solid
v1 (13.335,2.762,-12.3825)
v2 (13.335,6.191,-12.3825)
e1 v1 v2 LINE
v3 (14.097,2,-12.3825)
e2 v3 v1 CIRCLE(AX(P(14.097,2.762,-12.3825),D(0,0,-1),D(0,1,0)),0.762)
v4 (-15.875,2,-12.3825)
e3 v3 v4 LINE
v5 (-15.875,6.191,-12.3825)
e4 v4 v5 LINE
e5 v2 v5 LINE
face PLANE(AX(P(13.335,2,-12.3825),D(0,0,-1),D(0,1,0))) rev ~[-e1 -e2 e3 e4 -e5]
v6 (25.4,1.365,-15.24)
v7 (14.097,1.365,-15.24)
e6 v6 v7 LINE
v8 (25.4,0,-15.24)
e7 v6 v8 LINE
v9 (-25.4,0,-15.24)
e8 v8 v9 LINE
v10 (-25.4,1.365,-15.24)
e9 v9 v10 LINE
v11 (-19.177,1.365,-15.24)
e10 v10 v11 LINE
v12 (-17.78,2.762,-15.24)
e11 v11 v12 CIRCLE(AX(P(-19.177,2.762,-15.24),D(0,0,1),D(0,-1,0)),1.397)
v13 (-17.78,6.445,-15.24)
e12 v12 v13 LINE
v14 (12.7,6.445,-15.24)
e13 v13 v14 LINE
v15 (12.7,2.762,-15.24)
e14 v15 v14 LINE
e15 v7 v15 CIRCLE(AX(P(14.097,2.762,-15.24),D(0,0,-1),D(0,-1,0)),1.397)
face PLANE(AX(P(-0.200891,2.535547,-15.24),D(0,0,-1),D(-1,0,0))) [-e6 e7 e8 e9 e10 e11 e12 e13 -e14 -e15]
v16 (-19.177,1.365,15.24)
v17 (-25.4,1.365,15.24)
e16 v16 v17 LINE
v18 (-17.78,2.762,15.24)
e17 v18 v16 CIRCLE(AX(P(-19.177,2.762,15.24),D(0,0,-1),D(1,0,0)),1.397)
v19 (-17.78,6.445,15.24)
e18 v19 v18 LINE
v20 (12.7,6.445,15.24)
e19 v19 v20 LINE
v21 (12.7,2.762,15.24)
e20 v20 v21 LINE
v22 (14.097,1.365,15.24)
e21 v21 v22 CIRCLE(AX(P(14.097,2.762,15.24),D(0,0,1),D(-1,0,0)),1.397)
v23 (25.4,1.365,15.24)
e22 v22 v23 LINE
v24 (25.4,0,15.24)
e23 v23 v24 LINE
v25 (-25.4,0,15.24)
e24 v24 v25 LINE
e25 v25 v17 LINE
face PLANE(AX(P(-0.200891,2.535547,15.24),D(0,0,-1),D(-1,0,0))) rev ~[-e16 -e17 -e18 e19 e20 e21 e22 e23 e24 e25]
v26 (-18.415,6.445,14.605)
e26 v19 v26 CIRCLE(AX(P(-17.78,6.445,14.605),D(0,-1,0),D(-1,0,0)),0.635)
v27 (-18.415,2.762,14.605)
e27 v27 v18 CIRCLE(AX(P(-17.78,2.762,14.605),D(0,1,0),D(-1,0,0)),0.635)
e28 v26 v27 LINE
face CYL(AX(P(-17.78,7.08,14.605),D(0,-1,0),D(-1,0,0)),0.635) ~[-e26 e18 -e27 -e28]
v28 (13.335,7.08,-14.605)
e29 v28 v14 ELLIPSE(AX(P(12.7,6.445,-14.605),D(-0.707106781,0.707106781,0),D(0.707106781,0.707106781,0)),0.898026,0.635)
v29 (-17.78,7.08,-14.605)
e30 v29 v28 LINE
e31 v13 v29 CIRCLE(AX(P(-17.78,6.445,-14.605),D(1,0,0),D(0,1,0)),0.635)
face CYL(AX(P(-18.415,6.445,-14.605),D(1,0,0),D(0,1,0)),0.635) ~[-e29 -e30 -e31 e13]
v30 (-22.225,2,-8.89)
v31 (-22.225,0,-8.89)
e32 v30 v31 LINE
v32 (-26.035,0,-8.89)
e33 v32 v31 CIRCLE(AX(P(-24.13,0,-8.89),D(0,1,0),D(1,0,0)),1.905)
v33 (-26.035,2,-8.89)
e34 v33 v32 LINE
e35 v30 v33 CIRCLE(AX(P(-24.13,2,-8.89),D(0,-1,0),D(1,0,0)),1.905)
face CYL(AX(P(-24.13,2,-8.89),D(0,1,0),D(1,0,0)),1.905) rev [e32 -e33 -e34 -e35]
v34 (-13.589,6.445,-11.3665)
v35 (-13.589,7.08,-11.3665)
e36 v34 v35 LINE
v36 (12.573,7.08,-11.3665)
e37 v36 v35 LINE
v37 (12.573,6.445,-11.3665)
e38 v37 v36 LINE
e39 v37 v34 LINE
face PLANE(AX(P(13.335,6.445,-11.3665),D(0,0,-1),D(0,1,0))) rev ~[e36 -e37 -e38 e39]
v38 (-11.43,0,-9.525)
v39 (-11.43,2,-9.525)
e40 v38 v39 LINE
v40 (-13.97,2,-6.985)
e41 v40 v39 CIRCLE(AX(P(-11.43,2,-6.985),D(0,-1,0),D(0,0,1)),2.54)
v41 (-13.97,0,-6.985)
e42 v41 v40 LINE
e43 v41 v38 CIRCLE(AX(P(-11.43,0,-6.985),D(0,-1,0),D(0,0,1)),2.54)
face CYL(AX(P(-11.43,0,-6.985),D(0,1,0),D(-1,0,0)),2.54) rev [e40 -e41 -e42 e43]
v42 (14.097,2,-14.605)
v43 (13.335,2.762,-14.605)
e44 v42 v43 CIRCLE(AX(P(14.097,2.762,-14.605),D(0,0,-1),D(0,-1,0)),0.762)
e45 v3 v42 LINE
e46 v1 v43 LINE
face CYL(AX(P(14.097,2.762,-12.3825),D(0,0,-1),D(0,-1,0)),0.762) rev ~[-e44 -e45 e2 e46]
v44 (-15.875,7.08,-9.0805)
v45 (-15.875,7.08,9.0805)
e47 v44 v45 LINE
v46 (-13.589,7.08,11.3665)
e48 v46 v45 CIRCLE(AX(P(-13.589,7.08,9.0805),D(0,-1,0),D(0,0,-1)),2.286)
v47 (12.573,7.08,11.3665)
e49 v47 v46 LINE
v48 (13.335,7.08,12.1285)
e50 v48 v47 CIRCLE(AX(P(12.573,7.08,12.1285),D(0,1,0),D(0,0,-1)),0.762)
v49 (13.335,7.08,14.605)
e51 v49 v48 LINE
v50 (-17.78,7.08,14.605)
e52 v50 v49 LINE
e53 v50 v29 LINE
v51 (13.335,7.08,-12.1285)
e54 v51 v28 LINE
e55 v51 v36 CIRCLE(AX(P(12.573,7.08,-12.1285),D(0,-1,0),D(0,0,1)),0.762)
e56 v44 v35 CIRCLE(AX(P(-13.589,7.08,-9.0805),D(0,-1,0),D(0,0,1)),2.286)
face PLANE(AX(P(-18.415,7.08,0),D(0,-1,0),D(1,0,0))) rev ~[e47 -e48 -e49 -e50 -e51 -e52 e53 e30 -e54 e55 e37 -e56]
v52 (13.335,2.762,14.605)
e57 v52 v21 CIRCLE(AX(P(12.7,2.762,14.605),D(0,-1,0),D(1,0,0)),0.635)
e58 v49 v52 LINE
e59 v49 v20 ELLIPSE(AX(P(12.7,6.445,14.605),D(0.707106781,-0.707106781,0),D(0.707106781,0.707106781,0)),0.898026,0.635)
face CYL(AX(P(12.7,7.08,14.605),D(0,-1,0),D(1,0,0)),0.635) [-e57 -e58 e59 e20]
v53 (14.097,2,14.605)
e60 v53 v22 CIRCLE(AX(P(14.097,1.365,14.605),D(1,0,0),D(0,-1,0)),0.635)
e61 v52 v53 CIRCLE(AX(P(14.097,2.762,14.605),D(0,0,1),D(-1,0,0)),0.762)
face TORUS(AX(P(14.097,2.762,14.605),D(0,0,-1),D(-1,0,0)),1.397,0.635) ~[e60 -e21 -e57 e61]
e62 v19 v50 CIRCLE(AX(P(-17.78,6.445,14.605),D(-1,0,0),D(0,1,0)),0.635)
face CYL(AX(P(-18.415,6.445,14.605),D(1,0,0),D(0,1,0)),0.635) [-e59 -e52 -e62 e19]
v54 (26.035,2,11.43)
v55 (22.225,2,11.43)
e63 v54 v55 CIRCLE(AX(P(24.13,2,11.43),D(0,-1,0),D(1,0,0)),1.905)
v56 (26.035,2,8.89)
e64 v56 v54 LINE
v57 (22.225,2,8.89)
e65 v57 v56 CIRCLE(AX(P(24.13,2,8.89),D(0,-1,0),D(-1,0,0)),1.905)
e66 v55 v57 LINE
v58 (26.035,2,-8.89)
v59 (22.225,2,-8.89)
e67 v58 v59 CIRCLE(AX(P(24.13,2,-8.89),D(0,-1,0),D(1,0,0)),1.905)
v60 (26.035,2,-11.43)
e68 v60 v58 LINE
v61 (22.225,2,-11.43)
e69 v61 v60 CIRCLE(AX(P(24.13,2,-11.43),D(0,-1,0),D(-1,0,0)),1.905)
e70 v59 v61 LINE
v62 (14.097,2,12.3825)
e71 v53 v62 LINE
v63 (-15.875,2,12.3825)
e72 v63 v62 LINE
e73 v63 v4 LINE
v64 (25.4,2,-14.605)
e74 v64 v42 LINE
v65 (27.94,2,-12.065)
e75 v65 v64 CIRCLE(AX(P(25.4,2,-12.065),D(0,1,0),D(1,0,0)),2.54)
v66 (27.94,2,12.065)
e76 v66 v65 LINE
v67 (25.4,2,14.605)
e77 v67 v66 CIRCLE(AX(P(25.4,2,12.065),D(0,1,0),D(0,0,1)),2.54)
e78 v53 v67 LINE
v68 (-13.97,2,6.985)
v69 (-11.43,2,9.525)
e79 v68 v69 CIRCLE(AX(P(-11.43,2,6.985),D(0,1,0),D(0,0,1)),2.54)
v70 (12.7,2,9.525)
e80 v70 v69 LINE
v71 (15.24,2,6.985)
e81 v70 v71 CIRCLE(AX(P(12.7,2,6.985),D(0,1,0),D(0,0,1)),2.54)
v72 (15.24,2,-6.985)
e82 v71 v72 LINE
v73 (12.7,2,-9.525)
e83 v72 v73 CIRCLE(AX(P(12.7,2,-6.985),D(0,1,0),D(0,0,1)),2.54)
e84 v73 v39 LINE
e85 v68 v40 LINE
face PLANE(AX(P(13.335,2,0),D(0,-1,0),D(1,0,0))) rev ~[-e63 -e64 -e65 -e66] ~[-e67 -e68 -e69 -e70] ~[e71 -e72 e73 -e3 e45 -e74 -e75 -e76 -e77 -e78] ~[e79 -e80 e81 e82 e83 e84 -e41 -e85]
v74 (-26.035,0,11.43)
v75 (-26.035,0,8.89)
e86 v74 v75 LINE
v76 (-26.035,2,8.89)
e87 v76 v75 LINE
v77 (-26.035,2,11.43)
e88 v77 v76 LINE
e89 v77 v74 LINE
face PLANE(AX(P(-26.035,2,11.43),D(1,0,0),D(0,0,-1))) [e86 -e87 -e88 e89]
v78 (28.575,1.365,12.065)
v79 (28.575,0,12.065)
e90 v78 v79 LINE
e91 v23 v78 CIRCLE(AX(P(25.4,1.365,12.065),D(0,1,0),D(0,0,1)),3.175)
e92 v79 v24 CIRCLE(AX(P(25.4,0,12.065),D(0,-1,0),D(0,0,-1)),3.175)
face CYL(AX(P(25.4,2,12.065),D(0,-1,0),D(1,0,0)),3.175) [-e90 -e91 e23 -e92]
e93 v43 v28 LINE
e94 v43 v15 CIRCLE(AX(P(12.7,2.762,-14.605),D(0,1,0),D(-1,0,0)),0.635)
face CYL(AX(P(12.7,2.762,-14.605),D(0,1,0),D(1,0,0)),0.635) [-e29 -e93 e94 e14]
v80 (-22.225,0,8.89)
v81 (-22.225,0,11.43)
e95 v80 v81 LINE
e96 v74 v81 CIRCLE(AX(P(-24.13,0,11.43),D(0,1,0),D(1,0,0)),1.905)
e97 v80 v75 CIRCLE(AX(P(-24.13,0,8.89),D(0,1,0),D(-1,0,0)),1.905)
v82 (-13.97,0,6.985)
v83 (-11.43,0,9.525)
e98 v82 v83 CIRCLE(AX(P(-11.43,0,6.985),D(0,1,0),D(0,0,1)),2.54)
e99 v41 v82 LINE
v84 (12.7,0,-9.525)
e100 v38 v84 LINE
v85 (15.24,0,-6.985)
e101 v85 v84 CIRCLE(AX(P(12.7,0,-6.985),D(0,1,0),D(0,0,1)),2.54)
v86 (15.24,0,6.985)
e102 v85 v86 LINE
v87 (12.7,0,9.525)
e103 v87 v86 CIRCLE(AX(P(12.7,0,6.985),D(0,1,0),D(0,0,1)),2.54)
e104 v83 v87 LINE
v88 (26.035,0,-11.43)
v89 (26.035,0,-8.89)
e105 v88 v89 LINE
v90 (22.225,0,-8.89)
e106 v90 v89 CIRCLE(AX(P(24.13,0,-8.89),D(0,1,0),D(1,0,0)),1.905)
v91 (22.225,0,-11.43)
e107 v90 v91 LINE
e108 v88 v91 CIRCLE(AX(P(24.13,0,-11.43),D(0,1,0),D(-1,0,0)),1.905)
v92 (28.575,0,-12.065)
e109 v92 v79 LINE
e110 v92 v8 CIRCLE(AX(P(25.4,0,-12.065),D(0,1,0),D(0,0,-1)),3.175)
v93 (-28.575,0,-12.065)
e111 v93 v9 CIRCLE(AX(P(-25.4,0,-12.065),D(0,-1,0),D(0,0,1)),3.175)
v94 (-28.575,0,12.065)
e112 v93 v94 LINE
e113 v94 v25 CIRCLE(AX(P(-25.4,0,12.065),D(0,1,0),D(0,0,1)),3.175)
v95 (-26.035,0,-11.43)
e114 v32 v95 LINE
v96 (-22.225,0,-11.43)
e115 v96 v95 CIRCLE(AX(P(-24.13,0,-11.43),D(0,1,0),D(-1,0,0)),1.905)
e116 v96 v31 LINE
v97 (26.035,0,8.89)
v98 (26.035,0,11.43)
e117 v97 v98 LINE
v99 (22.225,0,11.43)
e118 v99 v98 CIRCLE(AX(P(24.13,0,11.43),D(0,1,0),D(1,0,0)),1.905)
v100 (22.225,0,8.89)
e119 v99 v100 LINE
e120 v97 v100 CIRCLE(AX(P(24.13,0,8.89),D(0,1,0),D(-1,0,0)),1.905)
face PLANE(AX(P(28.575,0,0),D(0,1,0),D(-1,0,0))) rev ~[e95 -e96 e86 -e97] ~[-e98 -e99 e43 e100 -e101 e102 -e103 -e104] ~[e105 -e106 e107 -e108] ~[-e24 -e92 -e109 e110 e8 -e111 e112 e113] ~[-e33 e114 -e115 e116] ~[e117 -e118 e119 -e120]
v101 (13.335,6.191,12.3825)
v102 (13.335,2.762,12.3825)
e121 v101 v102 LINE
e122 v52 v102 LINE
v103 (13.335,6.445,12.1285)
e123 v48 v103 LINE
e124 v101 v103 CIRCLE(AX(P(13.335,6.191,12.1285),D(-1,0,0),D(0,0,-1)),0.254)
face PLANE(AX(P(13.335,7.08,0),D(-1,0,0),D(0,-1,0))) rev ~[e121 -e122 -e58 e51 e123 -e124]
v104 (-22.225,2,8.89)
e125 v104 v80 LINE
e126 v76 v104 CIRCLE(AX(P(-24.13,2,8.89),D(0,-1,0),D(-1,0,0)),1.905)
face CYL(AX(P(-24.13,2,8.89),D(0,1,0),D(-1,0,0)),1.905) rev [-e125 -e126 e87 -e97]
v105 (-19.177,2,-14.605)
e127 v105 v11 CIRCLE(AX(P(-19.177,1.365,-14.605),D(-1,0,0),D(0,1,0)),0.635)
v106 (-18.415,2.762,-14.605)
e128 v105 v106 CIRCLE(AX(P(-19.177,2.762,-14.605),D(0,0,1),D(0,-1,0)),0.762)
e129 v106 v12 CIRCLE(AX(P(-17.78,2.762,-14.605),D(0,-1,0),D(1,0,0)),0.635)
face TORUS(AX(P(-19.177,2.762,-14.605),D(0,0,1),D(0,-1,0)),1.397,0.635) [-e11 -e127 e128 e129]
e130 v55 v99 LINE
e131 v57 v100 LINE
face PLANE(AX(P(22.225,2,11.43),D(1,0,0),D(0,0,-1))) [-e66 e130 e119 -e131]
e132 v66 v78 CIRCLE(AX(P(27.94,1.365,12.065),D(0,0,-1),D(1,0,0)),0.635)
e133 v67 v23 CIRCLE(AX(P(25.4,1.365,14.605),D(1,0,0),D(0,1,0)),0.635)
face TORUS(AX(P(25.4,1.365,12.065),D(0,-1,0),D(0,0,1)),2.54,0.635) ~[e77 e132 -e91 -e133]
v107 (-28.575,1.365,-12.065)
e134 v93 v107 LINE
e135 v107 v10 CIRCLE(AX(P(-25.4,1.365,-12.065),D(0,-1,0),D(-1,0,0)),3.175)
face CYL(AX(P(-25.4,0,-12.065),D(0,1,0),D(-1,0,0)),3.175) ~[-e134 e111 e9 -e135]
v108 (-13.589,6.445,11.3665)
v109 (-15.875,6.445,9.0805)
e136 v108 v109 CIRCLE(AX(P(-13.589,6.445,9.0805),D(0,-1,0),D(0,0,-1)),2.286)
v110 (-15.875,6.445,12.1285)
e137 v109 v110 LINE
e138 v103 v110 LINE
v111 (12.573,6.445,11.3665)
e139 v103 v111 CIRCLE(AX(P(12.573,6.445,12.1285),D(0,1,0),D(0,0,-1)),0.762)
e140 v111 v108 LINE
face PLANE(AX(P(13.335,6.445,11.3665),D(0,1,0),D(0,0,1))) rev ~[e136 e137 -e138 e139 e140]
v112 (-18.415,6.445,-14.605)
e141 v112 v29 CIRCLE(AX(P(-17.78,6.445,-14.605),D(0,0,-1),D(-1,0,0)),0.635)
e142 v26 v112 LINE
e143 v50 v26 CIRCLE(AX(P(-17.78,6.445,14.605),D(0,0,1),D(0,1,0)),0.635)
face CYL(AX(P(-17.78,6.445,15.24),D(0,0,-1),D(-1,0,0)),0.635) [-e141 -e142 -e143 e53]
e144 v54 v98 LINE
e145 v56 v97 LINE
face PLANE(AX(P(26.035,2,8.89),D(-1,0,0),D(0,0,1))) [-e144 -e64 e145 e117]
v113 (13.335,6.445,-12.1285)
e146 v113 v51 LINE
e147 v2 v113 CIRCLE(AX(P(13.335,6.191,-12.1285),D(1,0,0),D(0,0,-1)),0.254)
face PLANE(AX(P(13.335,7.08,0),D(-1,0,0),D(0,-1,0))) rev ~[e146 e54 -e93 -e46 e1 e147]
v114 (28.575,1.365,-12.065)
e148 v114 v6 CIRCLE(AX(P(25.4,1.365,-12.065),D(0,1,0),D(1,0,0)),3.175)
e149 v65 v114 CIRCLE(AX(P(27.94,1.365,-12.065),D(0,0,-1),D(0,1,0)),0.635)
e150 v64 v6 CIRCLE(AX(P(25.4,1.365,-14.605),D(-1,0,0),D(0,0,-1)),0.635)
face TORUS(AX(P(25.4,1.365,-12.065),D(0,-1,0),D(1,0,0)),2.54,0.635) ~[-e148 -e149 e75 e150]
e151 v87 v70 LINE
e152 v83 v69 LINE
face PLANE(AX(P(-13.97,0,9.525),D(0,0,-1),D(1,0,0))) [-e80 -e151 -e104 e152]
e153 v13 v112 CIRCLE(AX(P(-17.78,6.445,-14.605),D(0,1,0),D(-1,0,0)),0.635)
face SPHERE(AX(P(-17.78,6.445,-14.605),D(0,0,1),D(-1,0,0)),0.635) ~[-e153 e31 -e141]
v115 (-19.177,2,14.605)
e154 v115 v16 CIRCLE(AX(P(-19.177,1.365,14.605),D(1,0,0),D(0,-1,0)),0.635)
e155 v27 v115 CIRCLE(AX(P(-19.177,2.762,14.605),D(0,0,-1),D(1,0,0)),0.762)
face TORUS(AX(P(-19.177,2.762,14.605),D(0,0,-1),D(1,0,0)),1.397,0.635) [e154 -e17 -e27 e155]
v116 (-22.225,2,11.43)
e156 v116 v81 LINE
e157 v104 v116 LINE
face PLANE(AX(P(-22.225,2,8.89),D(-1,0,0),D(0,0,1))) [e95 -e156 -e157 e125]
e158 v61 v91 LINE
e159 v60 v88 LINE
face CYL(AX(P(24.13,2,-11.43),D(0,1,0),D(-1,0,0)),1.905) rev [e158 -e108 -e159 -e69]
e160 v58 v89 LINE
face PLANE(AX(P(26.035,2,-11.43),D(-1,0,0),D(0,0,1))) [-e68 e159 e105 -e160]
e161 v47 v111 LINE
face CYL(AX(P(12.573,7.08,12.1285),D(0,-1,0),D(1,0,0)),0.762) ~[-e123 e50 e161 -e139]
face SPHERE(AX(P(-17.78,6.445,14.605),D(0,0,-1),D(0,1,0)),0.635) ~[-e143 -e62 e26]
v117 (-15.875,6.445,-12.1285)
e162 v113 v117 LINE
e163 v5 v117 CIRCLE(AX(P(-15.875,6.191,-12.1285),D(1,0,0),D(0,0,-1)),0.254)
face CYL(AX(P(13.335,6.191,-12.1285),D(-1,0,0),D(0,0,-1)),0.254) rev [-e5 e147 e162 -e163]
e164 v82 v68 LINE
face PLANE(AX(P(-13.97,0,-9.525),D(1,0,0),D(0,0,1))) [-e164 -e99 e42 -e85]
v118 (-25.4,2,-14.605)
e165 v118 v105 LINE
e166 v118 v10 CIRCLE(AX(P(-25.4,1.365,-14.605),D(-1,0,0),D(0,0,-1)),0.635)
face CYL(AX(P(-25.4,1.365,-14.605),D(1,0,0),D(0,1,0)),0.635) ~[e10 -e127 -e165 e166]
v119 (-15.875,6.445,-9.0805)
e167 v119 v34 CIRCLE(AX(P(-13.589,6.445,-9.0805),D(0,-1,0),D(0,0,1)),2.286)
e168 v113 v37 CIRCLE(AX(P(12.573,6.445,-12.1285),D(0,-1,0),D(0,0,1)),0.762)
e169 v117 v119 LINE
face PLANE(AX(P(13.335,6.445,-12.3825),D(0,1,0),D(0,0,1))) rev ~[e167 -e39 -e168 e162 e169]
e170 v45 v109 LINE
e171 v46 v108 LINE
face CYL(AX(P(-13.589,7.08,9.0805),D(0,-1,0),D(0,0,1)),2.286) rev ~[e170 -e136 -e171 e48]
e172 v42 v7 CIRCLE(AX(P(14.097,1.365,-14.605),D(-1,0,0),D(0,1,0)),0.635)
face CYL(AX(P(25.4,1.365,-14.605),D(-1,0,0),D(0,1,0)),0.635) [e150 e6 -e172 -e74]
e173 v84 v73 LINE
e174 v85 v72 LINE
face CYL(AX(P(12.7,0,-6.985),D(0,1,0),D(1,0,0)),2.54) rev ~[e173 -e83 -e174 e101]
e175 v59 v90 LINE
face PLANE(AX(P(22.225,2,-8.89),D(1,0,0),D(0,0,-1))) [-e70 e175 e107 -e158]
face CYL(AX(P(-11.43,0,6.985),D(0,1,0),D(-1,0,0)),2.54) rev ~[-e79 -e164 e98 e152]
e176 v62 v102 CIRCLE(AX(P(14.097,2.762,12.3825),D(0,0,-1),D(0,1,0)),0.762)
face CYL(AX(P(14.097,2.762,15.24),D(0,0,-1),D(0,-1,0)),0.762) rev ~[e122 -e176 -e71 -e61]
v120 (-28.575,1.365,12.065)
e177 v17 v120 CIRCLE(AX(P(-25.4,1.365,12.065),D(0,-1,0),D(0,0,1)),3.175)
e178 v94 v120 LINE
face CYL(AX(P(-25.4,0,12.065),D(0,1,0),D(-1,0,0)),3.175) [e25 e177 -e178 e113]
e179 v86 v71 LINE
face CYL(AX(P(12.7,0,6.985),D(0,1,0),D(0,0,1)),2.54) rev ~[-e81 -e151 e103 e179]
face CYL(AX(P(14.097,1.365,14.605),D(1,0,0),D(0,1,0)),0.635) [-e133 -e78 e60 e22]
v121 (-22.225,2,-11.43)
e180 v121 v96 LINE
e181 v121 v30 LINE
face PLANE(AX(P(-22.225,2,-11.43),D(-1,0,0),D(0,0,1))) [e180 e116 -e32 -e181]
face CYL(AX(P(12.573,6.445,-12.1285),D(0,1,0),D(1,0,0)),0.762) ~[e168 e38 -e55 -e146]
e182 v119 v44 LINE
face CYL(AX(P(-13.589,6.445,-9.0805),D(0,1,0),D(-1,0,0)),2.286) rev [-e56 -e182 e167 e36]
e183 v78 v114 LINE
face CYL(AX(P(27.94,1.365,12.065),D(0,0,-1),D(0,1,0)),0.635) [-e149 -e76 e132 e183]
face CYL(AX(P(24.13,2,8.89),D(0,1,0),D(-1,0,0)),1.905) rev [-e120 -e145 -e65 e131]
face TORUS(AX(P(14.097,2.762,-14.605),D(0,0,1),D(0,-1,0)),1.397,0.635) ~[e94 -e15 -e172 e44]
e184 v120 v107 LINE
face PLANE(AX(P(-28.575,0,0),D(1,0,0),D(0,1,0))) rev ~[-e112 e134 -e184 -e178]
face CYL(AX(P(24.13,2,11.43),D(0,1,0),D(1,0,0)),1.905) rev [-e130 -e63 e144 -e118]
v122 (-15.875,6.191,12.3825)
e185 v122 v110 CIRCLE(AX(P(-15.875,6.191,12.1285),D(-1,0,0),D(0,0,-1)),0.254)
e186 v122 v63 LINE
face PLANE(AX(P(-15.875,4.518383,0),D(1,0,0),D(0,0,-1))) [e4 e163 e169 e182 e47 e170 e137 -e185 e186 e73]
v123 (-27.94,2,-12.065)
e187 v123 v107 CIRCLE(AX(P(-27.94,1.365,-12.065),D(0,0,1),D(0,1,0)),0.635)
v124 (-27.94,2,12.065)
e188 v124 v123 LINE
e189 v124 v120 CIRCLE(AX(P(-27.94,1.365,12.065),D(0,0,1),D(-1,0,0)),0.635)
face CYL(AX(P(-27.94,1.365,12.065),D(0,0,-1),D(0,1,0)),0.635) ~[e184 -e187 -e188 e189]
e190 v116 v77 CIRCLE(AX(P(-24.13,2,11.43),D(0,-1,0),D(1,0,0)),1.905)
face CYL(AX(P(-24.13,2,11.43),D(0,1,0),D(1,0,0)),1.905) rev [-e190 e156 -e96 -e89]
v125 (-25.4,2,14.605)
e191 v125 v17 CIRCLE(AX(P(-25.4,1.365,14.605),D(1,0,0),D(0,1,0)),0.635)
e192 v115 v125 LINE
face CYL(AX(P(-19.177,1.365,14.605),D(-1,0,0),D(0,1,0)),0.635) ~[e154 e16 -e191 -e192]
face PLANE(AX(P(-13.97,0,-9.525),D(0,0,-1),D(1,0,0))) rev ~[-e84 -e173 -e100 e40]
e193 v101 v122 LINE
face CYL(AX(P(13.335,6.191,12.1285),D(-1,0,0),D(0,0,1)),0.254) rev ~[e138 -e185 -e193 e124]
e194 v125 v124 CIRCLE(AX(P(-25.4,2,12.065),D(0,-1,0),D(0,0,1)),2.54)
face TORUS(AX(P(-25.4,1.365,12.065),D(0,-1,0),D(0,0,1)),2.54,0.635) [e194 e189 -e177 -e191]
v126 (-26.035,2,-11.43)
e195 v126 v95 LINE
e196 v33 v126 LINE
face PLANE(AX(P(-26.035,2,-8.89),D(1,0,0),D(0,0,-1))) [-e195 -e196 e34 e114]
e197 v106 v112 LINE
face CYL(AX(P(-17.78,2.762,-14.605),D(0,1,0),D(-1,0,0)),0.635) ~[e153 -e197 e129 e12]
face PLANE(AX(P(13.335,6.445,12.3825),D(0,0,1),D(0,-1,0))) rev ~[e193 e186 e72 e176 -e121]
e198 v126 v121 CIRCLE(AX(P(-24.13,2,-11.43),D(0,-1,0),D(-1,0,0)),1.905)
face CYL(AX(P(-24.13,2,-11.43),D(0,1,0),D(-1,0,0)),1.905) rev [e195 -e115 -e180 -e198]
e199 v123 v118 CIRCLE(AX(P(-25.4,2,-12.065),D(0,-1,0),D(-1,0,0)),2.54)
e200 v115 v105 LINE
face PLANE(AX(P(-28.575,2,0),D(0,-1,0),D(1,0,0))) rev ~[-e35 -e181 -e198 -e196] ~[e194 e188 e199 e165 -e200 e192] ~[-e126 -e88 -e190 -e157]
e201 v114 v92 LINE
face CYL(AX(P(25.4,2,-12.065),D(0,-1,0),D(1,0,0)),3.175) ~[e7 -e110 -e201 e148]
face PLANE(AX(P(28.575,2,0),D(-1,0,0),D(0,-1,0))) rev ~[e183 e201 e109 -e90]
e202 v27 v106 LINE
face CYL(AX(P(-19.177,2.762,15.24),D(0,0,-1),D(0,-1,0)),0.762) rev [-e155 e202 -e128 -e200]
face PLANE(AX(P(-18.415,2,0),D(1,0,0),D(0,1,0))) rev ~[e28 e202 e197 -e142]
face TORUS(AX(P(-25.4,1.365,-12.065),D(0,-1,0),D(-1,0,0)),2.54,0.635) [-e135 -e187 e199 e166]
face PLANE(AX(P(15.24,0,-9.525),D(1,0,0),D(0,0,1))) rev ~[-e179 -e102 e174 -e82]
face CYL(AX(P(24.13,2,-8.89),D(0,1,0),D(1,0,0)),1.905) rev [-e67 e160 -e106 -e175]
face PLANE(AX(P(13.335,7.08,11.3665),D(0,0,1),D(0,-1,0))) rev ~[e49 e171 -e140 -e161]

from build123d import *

# Parameters (mm, degrees)
BOSS_EXTRUDE1_DEPTH = 15.24
CUT_EXTRUDE1_DEPTH  = 19.05
CUT_EXTRUDE2_DEPTH  = 29.21
CUT_EXTRUDE4_REACH  = 35.15
SKETCH7_W           = 29.21
SKETCH7_H           = 19.05
FILLET3_R           = 2.54
FILLET6_R           = 0.762
FILLET7_R           = 2.286
FILLET9_R           = 3.175
FILLET10_R          = 0.762
FILLET11_R          = 0.635
FILLET12_R          = 0.254


with BuildPart() as part:
    # Sketch1 → Boss-Extrude1 (new, symmetric)
    with BuildSketch(Plane.XY):
        Polygon((-28.575, 0), (-28.575, 2), (-18.415, 2), (-18.415, 7.08), (13.335, 7.08), (13.335, 2), (28.575, 2), (28.575, 0), align=None)
    extrude(amount=BOSS_EXTRUDE1_DEPTH, both=True)

    # Sketch4 → Cut-Extrude1 (cut)
    with BuildSketch(Plane(origin=(0, 2, 0), x_dir=(1, 0, 0), z_dir=(0, 1, 0))):
        with BuildLine():
            Line((26.035, 11.43), (26.035, 8.89))
            ThreePointArc((26.035, 8.89), (24.13, 6.985), (22.225, 8.89))
            Line((22.225, 8.89), (22.225, 11.43))
            ThreePointArc((22.225, 11.43), (24.13, 13.335), (26.035, 11.43))
        make_face()
        with BuildLine():
            Line((26.035, -8.89), (26.035, -11.43))
            ThreePointArc((26.035, -11.43), (24.13, -13.335), (22.225, -11.43))
            Line((22.225, -11.43), (22.225, -8.89))
            ThreePointArc((22.225, -8.89), (24.13, -6.985), (26.035, -8.89))
        make_face()
        with BuildLine():
            Line((-22.225, 11.43), (-22.225, 8.89))
            ThreePointArc((-22.225, 8.89), (-24.13, 6.985), (-26.035, 8.89))
            Line((-26.035, 8.89), (-26.035, 11.43))
            ThreePointArc((-26.035, 11.43), (-24.13, 13.335), (-22.225, 11.43))
        make_face()
        with BuildLine():
            Line((-22.225, -8.89), (-22.225, -11.43))
            ThreePointArc((-22.225, -11.43), (-24.13, -13.335), (-26.035, -11.43))
            Line((-26.035, -11.43), (-26.035, -8.89))
            ThreePointArc((-26.035, -8.89), (-24.13, -6.985), (-22.225, -8.89))
        make_face()
    extrude(amount=-CUT_EXTRUDE1_DEPTH, mode=Mode.SUBTRACT)

    # Sketch5 → Cut-Extrude2 (cut)
    with BuildSketch(Plane(origin=(13.335, 0, 0), x_dir=(0, 0, -1), z_dir=(1, 0, 0))):
        Polygon((-12.3825, 2), (12.3825, 2), (12.3825, 6.445), (11.3665, 6.445), (11.3665, 7.08), (-11.3665, 7.08), (-11.3665, 6.445), (-12.3825, 6.445), align=None)
    extrude(amount=-CUT_EXTRUDE2_DEPTH, mode=Mode.SUBTRACT)

    # Sketch7 → Cut-Extrude4 (cut, up to next)
    with BuildSketch(Plane.XZ, mode=Mode.PRIVATE) as cut_extrude4_sk1:
        with Locations((0.635, 0)):
            Rectangle(SKETCH7_W, SKETCH7_H)
    cut_extrude4_tool1 = extrude(cut_extrude4_sk1.sketch, amount=-CUT_EXTRUDE4_REACH, mode=Mode.PRIVATE) & part.part
    add(cut_extrude4_tool1.solids().sort_by_distance((0.635, 0, 0))[0], mode=Mode.SUBTRACT)

    # Fillet3
    fillet3_edges = [part.edges().sort_by_distance(p)[0] for p in [
        (15.24, 1, 9.525),
        (15.24, 1, -9.525),
        (-13.97, 1, -9.525),
        (-13.97, 1, 9.525),
    ]]
    fillet(fillet3_edges, radius=FILLET3_R)

    # Fillet6
    fillet6_edges = [part.edges().sort_by_distance(p)[0] for p in [
        (13.335, 6.7625, -11.3665),
        (13.335, 6.7625, 11.3665),
    ]]
    fillet(fillet6_edges, radius=FILLET6_R)

    # Fillet7
    fillet7_edges = [part.edges().sort_by_distance(p)[0] for p in [
        (-15.875, 6.7625, 11.3665),
        (-15.875, 6.7625, -11.3665),
    ]]
    fillet(fillet7_edges, radius=FILLET7_R)

    # Fillet9
    fillet9_edges = [part.edges().sort_by_distance(p)[0] for p in [
        (28.575, 1, -15.24),
        (-28.575, 1, 15.24),
        (-28.575, 1, -15.24),
        (28.575, 1, 15.24),
    ]]
    fillet(fillet9_edges, radius=FILLET9_R)

    # Fillet10
    fillet10_edges = [part.edges().sort_by_distance(p)[0] for p in [
        (13.335, 2, -13.81125),
        (-18.415, 2, 0),
        (13.335, 2, 13.81125),
    ]]
    fillet(fillet10_edges, radius=FILLET10_R)

    # Fillet11
    fillet11_edges = [part.edges().sort_by_distance(p)[0] for p in [
        (-18.415, 7.08, 0),
        (-2.54, 7.08, 15.24),
        (19.7485, 2, 15.24),
        (-28.575, 2, 0),
        (-27.64506403, 2, -14.31006403),
        (-27.64506403, 2, 14.31006403),
        (19.7485, 2, -15.24),
        (28.575, 2, 0),
        (27.64506403, 2, -14.31006403),
        (27.64506403, 2, 14.31006403),
        (13.335, 4.921, 15.24),
        (13.335, 4.921, -15.24),
        (-22.2885, 2, 15.24),
        (-18.415, 4.921, 15.24),
        (-22.2885, 2, -15.24),
        (13.558184633, 2.223184633, 15.24),
        (13.558184633, 2.223184633, -15.24),
        (-18.638184633, 2.223184633, -15.24),
        (-18.638184633, 2.223184633, 15.24),
        (-18.415, 4.921, -15.24),
        (-2.54, 7.08, -15.24),
    ]]
    fillet(fillet11_edges, radius=FILLET11_R)

    # Fillet12
    fillet12_edges = [part.edges().sort_by_distance(p)[0] for p in [
        (-1.27, 6.445, -12.3825),
        (-1.27, 6.445, 12.3825),
    ]]
    fillet(fillet12_edges, radius=FILLET12_R)


solid = part.part
